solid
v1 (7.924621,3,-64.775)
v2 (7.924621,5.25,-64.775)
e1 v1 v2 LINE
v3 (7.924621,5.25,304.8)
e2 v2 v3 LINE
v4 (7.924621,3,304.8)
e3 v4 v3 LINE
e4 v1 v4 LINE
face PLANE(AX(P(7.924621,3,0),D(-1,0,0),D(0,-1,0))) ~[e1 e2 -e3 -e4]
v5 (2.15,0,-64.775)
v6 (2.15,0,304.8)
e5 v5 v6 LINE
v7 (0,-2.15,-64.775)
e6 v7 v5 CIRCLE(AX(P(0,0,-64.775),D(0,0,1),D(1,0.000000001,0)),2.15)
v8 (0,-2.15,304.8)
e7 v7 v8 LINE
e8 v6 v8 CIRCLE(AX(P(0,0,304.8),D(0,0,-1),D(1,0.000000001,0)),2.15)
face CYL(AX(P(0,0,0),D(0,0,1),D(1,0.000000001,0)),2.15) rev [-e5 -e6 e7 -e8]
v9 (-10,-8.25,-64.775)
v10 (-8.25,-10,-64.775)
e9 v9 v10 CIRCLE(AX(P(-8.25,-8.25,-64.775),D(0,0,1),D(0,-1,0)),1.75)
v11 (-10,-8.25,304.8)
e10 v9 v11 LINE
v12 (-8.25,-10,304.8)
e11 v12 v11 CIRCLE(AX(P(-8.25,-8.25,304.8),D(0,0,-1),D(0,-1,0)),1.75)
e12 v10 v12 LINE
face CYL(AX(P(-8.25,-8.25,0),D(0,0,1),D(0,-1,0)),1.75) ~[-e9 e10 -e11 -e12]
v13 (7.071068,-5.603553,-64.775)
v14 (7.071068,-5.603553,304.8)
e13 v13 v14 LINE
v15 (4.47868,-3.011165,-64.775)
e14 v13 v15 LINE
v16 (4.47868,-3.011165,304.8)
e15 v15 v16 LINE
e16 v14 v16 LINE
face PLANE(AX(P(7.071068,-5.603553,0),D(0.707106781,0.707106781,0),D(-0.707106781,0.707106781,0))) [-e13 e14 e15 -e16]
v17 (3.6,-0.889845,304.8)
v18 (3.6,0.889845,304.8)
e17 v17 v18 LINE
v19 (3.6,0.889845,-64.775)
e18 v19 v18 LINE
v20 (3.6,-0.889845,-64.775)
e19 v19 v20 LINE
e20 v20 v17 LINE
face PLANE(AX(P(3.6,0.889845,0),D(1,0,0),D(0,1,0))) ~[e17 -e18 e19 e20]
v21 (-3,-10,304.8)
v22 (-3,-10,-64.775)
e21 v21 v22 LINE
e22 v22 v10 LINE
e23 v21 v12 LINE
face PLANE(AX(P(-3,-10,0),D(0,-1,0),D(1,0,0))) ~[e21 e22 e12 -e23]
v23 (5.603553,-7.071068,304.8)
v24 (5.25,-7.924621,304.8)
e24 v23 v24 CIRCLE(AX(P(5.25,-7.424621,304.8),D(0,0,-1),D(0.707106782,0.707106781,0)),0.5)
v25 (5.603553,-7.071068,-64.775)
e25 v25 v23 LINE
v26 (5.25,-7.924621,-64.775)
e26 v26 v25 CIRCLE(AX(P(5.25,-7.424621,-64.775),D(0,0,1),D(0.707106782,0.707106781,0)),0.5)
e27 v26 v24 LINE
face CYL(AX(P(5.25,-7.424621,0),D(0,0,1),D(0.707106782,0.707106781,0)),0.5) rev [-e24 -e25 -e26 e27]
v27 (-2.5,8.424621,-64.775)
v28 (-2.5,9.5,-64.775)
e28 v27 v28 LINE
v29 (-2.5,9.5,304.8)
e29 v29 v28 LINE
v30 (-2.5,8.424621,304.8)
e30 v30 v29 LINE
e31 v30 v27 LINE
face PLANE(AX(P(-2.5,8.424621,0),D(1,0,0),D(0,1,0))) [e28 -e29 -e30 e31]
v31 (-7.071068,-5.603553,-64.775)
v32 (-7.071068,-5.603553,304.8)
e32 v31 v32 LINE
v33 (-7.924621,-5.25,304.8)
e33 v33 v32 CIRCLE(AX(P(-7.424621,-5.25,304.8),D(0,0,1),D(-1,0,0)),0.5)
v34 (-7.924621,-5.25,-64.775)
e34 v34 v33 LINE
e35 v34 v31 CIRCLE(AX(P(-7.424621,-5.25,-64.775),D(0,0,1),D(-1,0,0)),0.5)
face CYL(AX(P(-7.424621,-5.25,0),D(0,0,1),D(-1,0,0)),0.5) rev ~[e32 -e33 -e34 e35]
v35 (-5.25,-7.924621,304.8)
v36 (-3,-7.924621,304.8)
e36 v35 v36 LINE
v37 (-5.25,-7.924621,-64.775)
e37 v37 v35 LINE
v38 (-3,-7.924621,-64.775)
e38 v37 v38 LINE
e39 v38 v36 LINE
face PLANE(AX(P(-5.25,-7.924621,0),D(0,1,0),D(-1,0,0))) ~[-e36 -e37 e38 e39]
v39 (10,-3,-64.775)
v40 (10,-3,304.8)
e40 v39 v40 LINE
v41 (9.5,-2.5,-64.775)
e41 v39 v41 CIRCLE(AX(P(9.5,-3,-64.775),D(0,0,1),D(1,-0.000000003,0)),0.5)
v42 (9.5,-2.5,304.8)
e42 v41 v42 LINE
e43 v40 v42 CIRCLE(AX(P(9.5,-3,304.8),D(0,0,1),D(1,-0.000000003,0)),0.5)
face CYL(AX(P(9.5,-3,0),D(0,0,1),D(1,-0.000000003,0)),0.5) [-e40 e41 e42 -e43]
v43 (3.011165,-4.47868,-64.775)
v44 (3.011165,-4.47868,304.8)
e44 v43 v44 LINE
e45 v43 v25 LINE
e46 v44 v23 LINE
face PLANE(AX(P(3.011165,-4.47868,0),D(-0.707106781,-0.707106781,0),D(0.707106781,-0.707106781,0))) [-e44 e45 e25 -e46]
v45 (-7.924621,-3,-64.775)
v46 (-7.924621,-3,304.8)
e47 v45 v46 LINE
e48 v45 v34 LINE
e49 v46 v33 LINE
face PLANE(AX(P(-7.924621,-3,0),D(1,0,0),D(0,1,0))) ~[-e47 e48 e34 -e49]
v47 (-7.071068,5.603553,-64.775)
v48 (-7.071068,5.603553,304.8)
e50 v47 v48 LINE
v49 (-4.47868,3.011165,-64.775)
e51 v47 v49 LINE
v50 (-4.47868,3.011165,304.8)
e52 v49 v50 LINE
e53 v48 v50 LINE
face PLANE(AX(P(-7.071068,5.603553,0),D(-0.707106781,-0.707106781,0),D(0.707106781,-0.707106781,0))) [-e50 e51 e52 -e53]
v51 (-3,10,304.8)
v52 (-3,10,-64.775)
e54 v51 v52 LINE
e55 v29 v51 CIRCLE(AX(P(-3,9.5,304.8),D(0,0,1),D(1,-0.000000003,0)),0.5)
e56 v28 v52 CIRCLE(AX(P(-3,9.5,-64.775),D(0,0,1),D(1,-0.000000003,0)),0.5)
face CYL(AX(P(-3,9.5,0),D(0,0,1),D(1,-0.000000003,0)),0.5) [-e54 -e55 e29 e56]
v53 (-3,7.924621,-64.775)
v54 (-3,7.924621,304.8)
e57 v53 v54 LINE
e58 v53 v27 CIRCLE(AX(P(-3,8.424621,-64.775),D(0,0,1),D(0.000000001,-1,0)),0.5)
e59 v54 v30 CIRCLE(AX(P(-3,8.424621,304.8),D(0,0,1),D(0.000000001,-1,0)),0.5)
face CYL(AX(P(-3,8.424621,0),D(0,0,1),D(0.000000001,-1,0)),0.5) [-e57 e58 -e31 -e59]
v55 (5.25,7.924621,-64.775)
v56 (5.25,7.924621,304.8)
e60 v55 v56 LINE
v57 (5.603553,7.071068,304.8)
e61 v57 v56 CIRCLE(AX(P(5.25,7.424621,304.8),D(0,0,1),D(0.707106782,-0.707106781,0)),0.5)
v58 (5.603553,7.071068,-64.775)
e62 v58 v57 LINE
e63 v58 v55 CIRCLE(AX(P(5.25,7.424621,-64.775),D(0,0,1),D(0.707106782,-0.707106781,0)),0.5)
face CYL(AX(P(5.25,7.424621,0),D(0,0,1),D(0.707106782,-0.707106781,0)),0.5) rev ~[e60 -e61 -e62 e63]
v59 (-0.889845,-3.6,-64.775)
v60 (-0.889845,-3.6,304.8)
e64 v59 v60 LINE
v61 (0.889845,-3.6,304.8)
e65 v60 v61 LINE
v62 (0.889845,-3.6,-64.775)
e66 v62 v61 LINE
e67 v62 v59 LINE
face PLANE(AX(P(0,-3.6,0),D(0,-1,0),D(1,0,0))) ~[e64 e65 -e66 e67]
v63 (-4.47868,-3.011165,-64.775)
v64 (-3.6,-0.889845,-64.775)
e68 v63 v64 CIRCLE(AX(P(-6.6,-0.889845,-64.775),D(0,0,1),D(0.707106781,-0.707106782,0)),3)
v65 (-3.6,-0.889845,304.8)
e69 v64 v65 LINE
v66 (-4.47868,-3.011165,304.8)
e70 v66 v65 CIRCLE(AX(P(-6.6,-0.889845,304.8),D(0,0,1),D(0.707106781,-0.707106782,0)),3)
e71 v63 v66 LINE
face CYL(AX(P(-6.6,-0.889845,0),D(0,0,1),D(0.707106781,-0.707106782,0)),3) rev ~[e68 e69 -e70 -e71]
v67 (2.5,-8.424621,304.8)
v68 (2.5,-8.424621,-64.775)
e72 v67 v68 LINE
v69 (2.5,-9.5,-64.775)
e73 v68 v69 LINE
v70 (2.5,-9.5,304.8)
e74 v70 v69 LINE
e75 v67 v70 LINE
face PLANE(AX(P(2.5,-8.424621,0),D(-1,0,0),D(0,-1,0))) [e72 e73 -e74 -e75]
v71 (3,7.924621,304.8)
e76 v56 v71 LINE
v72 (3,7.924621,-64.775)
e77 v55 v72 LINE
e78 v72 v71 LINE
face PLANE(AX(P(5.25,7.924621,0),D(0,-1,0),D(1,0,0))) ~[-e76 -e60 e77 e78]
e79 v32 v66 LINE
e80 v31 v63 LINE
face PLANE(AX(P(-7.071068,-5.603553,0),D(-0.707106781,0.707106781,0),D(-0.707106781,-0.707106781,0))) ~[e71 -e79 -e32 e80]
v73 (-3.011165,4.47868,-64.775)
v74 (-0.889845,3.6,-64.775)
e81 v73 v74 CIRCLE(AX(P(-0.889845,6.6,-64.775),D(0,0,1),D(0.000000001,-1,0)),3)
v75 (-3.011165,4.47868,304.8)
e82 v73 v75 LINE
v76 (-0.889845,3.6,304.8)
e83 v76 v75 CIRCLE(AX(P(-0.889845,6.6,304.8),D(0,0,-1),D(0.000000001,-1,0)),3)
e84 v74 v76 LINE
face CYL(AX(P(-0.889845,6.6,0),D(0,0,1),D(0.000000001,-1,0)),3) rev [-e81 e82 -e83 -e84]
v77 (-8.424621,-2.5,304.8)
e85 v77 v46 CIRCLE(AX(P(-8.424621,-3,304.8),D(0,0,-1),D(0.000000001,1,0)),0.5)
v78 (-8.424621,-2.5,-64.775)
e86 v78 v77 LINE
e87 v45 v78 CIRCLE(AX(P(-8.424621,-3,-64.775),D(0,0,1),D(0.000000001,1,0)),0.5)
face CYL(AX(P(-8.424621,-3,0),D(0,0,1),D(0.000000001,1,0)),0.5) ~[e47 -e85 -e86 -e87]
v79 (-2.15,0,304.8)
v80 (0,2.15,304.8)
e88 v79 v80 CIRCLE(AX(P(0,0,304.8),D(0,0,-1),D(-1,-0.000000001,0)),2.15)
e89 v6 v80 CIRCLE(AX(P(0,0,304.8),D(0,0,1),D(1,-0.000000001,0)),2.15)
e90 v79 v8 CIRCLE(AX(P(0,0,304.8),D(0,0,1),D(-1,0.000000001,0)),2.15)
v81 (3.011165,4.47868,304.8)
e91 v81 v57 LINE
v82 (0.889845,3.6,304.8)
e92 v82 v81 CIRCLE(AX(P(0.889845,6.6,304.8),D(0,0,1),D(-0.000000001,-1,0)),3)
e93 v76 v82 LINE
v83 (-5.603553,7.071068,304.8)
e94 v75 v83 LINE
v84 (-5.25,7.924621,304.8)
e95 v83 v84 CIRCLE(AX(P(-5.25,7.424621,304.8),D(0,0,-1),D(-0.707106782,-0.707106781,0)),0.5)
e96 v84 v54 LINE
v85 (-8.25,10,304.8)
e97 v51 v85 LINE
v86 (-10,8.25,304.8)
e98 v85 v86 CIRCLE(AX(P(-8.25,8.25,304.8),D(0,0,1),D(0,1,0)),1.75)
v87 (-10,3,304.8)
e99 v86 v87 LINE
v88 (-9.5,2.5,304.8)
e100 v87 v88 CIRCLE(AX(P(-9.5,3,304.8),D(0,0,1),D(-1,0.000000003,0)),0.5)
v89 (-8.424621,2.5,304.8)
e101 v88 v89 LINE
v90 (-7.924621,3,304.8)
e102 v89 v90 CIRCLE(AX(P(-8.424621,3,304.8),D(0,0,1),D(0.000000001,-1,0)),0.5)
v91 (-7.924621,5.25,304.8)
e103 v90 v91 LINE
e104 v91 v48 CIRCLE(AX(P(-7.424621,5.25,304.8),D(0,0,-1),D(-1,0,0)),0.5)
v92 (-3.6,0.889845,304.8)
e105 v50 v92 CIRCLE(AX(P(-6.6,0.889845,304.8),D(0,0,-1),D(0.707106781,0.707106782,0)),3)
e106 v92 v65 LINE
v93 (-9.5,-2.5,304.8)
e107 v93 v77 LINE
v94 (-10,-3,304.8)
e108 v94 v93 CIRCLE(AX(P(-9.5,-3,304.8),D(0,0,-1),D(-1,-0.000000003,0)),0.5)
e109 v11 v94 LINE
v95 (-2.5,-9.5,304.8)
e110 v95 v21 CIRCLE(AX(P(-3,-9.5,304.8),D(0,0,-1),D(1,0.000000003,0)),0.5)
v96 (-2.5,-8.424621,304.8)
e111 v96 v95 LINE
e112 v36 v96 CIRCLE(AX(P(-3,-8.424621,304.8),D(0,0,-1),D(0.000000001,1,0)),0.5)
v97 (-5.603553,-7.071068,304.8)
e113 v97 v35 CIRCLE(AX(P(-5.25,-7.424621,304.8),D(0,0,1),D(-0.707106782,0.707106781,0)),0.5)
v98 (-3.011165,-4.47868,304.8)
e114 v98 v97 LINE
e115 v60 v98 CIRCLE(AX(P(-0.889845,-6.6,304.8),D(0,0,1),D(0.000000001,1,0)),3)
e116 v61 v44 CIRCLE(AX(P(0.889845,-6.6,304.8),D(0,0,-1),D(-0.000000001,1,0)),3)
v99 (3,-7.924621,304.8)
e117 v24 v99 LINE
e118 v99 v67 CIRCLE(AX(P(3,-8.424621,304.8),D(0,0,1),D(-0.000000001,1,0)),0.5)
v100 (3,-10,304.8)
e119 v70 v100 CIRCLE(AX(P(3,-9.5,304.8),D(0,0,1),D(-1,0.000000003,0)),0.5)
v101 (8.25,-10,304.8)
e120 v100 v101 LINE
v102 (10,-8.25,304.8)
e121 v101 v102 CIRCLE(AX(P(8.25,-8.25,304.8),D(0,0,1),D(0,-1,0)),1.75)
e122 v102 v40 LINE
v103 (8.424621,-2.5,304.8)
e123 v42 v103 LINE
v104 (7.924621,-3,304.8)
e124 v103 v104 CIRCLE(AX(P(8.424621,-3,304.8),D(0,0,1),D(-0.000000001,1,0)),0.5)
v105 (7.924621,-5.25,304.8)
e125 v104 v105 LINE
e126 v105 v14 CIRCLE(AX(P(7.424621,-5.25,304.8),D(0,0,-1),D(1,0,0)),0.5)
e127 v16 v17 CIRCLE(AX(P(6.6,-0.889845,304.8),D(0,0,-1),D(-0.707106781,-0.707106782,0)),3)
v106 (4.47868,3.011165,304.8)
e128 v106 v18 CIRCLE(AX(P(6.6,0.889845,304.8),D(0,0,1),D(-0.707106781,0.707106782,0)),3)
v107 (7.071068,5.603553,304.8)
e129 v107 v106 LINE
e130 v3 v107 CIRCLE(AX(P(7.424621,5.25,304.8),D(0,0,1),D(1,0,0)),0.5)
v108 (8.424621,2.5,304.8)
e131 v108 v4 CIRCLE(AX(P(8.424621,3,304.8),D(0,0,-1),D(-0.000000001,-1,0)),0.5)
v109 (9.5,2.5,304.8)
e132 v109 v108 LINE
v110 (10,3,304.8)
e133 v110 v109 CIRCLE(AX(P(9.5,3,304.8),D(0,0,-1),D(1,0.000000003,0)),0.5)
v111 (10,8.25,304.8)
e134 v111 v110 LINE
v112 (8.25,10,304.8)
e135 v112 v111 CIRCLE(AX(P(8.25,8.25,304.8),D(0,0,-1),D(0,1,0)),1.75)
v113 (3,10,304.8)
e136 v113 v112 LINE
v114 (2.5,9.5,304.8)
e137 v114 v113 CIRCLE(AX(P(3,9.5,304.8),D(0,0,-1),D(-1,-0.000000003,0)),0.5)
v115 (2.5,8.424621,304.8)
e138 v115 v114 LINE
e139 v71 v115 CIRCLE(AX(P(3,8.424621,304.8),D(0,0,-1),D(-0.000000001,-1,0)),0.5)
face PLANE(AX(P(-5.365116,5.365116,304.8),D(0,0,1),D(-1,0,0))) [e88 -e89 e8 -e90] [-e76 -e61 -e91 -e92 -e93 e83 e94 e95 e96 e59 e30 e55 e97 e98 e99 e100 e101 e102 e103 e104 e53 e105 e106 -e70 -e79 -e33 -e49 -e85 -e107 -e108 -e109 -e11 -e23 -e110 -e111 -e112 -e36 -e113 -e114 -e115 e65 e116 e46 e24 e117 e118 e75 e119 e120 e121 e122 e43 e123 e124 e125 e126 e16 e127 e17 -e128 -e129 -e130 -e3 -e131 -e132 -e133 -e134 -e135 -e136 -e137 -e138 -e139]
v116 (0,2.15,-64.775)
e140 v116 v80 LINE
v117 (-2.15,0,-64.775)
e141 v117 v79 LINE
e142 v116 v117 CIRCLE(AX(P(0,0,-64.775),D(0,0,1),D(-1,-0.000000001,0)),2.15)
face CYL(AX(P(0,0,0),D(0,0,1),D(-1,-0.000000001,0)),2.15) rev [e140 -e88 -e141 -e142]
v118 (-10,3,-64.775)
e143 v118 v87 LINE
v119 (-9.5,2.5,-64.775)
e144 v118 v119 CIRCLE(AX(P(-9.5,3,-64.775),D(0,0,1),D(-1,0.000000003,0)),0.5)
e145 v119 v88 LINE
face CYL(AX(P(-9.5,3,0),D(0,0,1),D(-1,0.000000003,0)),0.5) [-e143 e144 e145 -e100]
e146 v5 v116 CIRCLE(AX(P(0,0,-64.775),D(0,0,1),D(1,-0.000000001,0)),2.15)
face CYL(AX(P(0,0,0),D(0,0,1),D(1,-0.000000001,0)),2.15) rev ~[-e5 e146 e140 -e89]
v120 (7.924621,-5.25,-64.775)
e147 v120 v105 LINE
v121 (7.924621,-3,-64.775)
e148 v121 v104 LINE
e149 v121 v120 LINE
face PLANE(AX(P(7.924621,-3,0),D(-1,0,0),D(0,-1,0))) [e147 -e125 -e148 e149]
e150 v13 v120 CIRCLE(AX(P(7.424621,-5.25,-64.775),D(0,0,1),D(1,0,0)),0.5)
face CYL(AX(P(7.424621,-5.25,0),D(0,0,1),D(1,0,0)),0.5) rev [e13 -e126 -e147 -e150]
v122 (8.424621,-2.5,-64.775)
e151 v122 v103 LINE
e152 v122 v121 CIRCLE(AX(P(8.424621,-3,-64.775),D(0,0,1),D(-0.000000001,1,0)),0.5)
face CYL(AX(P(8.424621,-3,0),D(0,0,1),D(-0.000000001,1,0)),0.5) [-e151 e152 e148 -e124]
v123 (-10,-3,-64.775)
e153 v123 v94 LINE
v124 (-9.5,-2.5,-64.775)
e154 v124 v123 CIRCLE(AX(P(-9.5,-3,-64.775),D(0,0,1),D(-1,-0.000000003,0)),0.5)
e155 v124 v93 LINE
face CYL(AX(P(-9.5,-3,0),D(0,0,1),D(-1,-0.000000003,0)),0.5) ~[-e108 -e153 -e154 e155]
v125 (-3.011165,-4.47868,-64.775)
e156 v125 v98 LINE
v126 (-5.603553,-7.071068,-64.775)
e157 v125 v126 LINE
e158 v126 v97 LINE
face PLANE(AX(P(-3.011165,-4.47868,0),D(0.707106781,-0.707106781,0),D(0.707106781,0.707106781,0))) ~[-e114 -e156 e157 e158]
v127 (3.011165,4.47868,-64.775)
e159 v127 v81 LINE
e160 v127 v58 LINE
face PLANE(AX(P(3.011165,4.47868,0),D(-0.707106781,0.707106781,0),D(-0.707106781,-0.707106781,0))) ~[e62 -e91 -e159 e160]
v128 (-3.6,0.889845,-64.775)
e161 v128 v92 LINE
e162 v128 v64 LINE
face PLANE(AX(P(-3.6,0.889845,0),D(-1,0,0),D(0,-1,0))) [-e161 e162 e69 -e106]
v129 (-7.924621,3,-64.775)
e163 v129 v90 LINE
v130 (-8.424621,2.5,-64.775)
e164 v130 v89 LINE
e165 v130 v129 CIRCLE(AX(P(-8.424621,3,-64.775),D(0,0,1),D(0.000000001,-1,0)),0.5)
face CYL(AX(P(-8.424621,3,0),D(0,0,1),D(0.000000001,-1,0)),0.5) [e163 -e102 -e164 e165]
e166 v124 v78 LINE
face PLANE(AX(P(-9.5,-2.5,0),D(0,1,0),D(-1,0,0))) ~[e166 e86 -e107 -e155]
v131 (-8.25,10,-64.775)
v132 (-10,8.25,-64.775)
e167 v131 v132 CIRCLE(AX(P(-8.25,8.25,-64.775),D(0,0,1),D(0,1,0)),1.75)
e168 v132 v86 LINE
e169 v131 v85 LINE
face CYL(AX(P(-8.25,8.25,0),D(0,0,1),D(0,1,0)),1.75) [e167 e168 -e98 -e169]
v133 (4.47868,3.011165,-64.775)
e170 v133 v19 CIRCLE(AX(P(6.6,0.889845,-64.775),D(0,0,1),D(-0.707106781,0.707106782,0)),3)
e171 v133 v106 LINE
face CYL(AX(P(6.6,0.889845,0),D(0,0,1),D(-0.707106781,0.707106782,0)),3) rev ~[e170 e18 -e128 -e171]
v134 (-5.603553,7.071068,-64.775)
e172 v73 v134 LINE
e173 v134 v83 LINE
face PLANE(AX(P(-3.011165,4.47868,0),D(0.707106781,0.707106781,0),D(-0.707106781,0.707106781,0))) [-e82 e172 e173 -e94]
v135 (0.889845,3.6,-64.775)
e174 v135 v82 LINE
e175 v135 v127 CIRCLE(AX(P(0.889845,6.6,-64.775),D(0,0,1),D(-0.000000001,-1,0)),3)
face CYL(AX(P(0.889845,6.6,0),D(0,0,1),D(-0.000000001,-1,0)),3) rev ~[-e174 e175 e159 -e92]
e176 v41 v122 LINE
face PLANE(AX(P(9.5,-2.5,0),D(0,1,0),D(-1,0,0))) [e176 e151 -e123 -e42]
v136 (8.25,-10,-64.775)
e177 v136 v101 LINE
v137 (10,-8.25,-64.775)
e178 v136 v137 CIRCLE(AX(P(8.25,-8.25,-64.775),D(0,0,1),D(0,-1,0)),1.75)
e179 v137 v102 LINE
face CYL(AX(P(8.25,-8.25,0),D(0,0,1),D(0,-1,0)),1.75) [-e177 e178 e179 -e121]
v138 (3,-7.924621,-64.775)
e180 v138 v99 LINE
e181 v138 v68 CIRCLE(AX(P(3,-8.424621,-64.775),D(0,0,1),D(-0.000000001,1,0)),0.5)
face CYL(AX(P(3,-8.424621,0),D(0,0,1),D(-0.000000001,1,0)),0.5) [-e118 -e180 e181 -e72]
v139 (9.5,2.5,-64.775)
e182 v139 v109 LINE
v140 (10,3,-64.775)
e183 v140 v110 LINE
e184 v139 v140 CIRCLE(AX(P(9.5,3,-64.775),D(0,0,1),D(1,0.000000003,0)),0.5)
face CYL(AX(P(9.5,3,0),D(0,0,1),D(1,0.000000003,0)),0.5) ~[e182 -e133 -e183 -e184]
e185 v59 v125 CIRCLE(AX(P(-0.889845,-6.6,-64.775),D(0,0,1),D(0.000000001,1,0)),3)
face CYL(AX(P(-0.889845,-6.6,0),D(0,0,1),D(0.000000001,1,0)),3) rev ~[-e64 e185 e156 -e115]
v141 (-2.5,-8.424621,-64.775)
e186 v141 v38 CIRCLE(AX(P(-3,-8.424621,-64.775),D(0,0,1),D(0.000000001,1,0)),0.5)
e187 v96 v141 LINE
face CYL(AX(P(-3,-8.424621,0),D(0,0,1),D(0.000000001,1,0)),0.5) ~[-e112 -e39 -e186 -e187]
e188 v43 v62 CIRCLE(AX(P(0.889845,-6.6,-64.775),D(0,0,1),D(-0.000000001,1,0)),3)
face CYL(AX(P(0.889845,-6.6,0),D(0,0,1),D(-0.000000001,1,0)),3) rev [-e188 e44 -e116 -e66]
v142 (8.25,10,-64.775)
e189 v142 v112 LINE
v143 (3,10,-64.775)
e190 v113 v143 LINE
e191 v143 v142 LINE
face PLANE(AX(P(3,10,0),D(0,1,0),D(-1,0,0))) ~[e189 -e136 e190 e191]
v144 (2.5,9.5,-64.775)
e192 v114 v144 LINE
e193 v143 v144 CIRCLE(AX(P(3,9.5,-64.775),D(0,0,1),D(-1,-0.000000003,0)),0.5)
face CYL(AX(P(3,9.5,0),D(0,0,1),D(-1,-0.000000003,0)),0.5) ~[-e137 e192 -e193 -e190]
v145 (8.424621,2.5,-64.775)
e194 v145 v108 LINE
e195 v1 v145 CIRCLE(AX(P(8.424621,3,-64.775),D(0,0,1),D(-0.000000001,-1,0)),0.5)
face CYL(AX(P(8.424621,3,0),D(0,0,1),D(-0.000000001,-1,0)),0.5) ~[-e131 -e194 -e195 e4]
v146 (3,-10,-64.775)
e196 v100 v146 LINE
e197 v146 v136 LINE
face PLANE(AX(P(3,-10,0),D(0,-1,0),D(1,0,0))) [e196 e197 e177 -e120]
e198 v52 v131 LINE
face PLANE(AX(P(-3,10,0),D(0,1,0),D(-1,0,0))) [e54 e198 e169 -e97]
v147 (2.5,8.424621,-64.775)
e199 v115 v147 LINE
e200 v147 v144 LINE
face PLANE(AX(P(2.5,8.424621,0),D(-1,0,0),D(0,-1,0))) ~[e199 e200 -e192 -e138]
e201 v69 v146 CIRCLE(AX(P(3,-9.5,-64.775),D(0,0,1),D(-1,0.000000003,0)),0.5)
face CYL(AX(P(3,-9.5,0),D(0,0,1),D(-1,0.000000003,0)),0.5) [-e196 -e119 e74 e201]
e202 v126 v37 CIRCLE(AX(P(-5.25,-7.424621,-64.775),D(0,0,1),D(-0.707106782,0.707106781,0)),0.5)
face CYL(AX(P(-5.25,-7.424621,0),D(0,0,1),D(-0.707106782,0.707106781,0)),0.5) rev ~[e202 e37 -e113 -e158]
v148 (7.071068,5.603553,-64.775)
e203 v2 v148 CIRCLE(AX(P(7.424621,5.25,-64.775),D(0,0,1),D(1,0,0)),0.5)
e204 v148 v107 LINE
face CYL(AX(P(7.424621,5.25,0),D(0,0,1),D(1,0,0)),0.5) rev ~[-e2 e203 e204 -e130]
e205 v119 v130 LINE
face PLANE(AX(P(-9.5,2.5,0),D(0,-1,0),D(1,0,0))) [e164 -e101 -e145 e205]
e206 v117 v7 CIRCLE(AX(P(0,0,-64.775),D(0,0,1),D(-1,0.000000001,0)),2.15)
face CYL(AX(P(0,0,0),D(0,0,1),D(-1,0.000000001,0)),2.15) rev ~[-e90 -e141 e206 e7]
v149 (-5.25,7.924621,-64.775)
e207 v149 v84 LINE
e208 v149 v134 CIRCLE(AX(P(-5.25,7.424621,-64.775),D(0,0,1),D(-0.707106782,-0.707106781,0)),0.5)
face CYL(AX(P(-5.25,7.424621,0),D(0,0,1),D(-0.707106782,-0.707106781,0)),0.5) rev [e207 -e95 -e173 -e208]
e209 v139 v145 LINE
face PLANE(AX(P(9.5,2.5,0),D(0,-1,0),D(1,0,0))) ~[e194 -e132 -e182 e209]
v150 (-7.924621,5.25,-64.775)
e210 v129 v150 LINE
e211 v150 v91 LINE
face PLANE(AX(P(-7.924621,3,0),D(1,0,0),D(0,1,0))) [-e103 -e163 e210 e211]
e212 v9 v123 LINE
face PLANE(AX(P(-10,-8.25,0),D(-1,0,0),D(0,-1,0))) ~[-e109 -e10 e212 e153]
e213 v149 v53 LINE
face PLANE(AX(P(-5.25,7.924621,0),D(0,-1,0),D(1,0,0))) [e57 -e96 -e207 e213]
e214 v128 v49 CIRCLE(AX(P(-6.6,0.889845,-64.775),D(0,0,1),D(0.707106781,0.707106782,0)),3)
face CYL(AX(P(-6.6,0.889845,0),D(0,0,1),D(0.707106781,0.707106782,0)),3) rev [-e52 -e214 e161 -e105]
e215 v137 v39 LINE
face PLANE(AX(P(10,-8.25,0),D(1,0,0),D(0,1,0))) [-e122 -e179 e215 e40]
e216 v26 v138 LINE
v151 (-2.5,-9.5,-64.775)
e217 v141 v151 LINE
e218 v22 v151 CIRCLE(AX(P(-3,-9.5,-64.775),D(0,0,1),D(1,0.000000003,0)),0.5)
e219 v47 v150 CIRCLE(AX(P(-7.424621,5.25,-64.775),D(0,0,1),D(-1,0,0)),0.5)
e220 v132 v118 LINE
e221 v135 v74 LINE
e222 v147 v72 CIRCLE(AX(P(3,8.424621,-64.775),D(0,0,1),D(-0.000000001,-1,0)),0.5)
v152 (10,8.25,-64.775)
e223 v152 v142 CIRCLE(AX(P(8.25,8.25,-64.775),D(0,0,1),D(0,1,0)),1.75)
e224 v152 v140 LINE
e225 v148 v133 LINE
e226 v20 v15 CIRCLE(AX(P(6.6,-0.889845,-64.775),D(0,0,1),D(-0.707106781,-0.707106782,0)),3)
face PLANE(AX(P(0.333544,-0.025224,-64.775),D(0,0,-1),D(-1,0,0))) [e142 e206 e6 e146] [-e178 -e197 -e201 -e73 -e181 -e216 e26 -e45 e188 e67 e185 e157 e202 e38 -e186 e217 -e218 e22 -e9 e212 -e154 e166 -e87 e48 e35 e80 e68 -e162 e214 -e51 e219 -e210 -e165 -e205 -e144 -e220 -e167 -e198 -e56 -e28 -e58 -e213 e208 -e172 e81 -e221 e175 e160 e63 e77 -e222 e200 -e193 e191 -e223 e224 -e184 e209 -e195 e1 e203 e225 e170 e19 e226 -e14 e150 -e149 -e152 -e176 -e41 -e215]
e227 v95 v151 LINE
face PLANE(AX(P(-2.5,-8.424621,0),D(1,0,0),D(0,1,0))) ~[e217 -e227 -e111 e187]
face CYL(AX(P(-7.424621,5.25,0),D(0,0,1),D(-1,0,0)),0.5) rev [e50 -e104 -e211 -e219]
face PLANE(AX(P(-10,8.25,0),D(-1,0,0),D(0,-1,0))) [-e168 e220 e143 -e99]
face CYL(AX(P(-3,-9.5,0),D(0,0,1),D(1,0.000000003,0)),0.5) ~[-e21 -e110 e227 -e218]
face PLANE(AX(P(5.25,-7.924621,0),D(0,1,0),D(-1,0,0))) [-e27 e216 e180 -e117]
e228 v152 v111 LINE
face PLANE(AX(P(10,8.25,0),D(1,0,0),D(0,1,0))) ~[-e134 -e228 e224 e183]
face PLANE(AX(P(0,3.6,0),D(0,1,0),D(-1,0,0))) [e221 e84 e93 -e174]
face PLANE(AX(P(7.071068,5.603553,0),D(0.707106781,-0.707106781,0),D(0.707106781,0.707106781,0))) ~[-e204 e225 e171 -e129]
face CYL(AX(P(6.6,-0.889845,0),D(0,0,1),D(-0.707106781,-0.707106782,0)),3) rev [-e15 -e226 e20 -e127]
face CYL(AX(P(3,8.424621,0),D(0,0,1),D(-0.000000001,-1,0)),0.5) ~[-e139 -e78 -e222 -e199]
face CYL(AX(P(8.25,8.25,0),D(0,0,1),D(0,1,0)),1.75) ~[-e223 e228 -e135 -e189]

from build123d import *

# Parameters (mm, degrees)
BOSS_EXTRUDE1_DEPTH = 304.8
SKETCH5_W           = 26.995197012
SKETCH5_H           = 24.68705749
CUT_EXTRUDE1_DEPTH  = 240.025


with BuildPart() as part:
    # Sketch4 → Boss-Extrude1 (new, symmetric)
    with BuildSketch(Plane.XY):
        with BuildLine():
            Line((3, -10), (8.25, -10))
            ThreePointArc((8.25, -10), (9.487436867, -9.487436867), (10, -8.25))
            Line((10, -8.25), (10, -3))
            ThreePointArc((10, -3), (9.853553391, -2.646446609), (9.5, -2.5))
            Line((9.5, -2.5), (8.424621202, -2.5))
            ThreePointArc((8.424621202, -2.5), (8.071067812, -2.646446609), (7.924621202, -3))
            Line((7.924621202, -3), (7.924621202, -5.25))
            ThreePointArc((7.924621202, -5.25), (7.615962919, -5.711939766), (7.071067812, -5.603553391))
            Line((7.071067812, -5.603553391), (4.478679656, -3.011165235))
            ThreePointArc((4.478679656, -3.011165235), (3.828361402, -2.037895189), (3.6, -0.889844892))
            Line((3.6, -0.889844892), (3.6, 0))
            Line((3.6, 0), (2.15, 0))
            ThreePointArc((2.15, 0), (1.52027958, -1.52027958), (0, -2.15))
            Line((0, -2.15), (0, -3.6))
            Line((0, -3.6), (0.889844892, -3.6))
            ThreePointArc((0.889844892, -3.6), (2.037895189, -3.828361402), (3.011165235, -4.478679656))
            Line((3.011165235, -4.478679656), (5.603553391, -7.071067812))
            ThreePointArc((5.603553391, -7.071067812), (5.711939766, -7.615962919), (5.25, -7.924621202))
            Line((5.25, -7.924621202), (3, -7.924621202))
            ThreePointArc((3, -7.924621202), (2.646446609, -8.071067812), (2.5, -8.424621202))
            Line((2.5, -8.424621202), (2.5, -9.5))
            ThreePointArc((2.5, -9.5), (2.646446609, -9.853553391), (3, -10))
        make_face()
    extrude(amount=BOSS_EXTRUDE1_DEPTH, both=True)

    # Mirror1: part across plane


with BuildPart() as part_1:
    add(part.part)
    add(part.part.mirror(Plane(origin=(0, 0, 0), x_dir=(0, 0, 1), z_dir=(1, 0, 0))))

    # Mirror2: part across plane


with BuildPart() as part_2:
    add(part_1.part)
    add(part_1.part.mirror(Plane.ZX))

    # Sketch5 → Cut-Extrude1 (cut)
    with BuildSketch(Plane(origin=(0, 0, -304.8), x_dir=(-1, 0, 0), z_dir=(0, 0, -1))):
        with Locations((-0.333544011, -0.025224209)):
            Rectangle(SKETCH5_W, SKETCH5_H)
    extrude(amount=-CUT_EXTRUDE1_DEPTH, mode=Mode.SUBTRACT)


solid = part_2.part
